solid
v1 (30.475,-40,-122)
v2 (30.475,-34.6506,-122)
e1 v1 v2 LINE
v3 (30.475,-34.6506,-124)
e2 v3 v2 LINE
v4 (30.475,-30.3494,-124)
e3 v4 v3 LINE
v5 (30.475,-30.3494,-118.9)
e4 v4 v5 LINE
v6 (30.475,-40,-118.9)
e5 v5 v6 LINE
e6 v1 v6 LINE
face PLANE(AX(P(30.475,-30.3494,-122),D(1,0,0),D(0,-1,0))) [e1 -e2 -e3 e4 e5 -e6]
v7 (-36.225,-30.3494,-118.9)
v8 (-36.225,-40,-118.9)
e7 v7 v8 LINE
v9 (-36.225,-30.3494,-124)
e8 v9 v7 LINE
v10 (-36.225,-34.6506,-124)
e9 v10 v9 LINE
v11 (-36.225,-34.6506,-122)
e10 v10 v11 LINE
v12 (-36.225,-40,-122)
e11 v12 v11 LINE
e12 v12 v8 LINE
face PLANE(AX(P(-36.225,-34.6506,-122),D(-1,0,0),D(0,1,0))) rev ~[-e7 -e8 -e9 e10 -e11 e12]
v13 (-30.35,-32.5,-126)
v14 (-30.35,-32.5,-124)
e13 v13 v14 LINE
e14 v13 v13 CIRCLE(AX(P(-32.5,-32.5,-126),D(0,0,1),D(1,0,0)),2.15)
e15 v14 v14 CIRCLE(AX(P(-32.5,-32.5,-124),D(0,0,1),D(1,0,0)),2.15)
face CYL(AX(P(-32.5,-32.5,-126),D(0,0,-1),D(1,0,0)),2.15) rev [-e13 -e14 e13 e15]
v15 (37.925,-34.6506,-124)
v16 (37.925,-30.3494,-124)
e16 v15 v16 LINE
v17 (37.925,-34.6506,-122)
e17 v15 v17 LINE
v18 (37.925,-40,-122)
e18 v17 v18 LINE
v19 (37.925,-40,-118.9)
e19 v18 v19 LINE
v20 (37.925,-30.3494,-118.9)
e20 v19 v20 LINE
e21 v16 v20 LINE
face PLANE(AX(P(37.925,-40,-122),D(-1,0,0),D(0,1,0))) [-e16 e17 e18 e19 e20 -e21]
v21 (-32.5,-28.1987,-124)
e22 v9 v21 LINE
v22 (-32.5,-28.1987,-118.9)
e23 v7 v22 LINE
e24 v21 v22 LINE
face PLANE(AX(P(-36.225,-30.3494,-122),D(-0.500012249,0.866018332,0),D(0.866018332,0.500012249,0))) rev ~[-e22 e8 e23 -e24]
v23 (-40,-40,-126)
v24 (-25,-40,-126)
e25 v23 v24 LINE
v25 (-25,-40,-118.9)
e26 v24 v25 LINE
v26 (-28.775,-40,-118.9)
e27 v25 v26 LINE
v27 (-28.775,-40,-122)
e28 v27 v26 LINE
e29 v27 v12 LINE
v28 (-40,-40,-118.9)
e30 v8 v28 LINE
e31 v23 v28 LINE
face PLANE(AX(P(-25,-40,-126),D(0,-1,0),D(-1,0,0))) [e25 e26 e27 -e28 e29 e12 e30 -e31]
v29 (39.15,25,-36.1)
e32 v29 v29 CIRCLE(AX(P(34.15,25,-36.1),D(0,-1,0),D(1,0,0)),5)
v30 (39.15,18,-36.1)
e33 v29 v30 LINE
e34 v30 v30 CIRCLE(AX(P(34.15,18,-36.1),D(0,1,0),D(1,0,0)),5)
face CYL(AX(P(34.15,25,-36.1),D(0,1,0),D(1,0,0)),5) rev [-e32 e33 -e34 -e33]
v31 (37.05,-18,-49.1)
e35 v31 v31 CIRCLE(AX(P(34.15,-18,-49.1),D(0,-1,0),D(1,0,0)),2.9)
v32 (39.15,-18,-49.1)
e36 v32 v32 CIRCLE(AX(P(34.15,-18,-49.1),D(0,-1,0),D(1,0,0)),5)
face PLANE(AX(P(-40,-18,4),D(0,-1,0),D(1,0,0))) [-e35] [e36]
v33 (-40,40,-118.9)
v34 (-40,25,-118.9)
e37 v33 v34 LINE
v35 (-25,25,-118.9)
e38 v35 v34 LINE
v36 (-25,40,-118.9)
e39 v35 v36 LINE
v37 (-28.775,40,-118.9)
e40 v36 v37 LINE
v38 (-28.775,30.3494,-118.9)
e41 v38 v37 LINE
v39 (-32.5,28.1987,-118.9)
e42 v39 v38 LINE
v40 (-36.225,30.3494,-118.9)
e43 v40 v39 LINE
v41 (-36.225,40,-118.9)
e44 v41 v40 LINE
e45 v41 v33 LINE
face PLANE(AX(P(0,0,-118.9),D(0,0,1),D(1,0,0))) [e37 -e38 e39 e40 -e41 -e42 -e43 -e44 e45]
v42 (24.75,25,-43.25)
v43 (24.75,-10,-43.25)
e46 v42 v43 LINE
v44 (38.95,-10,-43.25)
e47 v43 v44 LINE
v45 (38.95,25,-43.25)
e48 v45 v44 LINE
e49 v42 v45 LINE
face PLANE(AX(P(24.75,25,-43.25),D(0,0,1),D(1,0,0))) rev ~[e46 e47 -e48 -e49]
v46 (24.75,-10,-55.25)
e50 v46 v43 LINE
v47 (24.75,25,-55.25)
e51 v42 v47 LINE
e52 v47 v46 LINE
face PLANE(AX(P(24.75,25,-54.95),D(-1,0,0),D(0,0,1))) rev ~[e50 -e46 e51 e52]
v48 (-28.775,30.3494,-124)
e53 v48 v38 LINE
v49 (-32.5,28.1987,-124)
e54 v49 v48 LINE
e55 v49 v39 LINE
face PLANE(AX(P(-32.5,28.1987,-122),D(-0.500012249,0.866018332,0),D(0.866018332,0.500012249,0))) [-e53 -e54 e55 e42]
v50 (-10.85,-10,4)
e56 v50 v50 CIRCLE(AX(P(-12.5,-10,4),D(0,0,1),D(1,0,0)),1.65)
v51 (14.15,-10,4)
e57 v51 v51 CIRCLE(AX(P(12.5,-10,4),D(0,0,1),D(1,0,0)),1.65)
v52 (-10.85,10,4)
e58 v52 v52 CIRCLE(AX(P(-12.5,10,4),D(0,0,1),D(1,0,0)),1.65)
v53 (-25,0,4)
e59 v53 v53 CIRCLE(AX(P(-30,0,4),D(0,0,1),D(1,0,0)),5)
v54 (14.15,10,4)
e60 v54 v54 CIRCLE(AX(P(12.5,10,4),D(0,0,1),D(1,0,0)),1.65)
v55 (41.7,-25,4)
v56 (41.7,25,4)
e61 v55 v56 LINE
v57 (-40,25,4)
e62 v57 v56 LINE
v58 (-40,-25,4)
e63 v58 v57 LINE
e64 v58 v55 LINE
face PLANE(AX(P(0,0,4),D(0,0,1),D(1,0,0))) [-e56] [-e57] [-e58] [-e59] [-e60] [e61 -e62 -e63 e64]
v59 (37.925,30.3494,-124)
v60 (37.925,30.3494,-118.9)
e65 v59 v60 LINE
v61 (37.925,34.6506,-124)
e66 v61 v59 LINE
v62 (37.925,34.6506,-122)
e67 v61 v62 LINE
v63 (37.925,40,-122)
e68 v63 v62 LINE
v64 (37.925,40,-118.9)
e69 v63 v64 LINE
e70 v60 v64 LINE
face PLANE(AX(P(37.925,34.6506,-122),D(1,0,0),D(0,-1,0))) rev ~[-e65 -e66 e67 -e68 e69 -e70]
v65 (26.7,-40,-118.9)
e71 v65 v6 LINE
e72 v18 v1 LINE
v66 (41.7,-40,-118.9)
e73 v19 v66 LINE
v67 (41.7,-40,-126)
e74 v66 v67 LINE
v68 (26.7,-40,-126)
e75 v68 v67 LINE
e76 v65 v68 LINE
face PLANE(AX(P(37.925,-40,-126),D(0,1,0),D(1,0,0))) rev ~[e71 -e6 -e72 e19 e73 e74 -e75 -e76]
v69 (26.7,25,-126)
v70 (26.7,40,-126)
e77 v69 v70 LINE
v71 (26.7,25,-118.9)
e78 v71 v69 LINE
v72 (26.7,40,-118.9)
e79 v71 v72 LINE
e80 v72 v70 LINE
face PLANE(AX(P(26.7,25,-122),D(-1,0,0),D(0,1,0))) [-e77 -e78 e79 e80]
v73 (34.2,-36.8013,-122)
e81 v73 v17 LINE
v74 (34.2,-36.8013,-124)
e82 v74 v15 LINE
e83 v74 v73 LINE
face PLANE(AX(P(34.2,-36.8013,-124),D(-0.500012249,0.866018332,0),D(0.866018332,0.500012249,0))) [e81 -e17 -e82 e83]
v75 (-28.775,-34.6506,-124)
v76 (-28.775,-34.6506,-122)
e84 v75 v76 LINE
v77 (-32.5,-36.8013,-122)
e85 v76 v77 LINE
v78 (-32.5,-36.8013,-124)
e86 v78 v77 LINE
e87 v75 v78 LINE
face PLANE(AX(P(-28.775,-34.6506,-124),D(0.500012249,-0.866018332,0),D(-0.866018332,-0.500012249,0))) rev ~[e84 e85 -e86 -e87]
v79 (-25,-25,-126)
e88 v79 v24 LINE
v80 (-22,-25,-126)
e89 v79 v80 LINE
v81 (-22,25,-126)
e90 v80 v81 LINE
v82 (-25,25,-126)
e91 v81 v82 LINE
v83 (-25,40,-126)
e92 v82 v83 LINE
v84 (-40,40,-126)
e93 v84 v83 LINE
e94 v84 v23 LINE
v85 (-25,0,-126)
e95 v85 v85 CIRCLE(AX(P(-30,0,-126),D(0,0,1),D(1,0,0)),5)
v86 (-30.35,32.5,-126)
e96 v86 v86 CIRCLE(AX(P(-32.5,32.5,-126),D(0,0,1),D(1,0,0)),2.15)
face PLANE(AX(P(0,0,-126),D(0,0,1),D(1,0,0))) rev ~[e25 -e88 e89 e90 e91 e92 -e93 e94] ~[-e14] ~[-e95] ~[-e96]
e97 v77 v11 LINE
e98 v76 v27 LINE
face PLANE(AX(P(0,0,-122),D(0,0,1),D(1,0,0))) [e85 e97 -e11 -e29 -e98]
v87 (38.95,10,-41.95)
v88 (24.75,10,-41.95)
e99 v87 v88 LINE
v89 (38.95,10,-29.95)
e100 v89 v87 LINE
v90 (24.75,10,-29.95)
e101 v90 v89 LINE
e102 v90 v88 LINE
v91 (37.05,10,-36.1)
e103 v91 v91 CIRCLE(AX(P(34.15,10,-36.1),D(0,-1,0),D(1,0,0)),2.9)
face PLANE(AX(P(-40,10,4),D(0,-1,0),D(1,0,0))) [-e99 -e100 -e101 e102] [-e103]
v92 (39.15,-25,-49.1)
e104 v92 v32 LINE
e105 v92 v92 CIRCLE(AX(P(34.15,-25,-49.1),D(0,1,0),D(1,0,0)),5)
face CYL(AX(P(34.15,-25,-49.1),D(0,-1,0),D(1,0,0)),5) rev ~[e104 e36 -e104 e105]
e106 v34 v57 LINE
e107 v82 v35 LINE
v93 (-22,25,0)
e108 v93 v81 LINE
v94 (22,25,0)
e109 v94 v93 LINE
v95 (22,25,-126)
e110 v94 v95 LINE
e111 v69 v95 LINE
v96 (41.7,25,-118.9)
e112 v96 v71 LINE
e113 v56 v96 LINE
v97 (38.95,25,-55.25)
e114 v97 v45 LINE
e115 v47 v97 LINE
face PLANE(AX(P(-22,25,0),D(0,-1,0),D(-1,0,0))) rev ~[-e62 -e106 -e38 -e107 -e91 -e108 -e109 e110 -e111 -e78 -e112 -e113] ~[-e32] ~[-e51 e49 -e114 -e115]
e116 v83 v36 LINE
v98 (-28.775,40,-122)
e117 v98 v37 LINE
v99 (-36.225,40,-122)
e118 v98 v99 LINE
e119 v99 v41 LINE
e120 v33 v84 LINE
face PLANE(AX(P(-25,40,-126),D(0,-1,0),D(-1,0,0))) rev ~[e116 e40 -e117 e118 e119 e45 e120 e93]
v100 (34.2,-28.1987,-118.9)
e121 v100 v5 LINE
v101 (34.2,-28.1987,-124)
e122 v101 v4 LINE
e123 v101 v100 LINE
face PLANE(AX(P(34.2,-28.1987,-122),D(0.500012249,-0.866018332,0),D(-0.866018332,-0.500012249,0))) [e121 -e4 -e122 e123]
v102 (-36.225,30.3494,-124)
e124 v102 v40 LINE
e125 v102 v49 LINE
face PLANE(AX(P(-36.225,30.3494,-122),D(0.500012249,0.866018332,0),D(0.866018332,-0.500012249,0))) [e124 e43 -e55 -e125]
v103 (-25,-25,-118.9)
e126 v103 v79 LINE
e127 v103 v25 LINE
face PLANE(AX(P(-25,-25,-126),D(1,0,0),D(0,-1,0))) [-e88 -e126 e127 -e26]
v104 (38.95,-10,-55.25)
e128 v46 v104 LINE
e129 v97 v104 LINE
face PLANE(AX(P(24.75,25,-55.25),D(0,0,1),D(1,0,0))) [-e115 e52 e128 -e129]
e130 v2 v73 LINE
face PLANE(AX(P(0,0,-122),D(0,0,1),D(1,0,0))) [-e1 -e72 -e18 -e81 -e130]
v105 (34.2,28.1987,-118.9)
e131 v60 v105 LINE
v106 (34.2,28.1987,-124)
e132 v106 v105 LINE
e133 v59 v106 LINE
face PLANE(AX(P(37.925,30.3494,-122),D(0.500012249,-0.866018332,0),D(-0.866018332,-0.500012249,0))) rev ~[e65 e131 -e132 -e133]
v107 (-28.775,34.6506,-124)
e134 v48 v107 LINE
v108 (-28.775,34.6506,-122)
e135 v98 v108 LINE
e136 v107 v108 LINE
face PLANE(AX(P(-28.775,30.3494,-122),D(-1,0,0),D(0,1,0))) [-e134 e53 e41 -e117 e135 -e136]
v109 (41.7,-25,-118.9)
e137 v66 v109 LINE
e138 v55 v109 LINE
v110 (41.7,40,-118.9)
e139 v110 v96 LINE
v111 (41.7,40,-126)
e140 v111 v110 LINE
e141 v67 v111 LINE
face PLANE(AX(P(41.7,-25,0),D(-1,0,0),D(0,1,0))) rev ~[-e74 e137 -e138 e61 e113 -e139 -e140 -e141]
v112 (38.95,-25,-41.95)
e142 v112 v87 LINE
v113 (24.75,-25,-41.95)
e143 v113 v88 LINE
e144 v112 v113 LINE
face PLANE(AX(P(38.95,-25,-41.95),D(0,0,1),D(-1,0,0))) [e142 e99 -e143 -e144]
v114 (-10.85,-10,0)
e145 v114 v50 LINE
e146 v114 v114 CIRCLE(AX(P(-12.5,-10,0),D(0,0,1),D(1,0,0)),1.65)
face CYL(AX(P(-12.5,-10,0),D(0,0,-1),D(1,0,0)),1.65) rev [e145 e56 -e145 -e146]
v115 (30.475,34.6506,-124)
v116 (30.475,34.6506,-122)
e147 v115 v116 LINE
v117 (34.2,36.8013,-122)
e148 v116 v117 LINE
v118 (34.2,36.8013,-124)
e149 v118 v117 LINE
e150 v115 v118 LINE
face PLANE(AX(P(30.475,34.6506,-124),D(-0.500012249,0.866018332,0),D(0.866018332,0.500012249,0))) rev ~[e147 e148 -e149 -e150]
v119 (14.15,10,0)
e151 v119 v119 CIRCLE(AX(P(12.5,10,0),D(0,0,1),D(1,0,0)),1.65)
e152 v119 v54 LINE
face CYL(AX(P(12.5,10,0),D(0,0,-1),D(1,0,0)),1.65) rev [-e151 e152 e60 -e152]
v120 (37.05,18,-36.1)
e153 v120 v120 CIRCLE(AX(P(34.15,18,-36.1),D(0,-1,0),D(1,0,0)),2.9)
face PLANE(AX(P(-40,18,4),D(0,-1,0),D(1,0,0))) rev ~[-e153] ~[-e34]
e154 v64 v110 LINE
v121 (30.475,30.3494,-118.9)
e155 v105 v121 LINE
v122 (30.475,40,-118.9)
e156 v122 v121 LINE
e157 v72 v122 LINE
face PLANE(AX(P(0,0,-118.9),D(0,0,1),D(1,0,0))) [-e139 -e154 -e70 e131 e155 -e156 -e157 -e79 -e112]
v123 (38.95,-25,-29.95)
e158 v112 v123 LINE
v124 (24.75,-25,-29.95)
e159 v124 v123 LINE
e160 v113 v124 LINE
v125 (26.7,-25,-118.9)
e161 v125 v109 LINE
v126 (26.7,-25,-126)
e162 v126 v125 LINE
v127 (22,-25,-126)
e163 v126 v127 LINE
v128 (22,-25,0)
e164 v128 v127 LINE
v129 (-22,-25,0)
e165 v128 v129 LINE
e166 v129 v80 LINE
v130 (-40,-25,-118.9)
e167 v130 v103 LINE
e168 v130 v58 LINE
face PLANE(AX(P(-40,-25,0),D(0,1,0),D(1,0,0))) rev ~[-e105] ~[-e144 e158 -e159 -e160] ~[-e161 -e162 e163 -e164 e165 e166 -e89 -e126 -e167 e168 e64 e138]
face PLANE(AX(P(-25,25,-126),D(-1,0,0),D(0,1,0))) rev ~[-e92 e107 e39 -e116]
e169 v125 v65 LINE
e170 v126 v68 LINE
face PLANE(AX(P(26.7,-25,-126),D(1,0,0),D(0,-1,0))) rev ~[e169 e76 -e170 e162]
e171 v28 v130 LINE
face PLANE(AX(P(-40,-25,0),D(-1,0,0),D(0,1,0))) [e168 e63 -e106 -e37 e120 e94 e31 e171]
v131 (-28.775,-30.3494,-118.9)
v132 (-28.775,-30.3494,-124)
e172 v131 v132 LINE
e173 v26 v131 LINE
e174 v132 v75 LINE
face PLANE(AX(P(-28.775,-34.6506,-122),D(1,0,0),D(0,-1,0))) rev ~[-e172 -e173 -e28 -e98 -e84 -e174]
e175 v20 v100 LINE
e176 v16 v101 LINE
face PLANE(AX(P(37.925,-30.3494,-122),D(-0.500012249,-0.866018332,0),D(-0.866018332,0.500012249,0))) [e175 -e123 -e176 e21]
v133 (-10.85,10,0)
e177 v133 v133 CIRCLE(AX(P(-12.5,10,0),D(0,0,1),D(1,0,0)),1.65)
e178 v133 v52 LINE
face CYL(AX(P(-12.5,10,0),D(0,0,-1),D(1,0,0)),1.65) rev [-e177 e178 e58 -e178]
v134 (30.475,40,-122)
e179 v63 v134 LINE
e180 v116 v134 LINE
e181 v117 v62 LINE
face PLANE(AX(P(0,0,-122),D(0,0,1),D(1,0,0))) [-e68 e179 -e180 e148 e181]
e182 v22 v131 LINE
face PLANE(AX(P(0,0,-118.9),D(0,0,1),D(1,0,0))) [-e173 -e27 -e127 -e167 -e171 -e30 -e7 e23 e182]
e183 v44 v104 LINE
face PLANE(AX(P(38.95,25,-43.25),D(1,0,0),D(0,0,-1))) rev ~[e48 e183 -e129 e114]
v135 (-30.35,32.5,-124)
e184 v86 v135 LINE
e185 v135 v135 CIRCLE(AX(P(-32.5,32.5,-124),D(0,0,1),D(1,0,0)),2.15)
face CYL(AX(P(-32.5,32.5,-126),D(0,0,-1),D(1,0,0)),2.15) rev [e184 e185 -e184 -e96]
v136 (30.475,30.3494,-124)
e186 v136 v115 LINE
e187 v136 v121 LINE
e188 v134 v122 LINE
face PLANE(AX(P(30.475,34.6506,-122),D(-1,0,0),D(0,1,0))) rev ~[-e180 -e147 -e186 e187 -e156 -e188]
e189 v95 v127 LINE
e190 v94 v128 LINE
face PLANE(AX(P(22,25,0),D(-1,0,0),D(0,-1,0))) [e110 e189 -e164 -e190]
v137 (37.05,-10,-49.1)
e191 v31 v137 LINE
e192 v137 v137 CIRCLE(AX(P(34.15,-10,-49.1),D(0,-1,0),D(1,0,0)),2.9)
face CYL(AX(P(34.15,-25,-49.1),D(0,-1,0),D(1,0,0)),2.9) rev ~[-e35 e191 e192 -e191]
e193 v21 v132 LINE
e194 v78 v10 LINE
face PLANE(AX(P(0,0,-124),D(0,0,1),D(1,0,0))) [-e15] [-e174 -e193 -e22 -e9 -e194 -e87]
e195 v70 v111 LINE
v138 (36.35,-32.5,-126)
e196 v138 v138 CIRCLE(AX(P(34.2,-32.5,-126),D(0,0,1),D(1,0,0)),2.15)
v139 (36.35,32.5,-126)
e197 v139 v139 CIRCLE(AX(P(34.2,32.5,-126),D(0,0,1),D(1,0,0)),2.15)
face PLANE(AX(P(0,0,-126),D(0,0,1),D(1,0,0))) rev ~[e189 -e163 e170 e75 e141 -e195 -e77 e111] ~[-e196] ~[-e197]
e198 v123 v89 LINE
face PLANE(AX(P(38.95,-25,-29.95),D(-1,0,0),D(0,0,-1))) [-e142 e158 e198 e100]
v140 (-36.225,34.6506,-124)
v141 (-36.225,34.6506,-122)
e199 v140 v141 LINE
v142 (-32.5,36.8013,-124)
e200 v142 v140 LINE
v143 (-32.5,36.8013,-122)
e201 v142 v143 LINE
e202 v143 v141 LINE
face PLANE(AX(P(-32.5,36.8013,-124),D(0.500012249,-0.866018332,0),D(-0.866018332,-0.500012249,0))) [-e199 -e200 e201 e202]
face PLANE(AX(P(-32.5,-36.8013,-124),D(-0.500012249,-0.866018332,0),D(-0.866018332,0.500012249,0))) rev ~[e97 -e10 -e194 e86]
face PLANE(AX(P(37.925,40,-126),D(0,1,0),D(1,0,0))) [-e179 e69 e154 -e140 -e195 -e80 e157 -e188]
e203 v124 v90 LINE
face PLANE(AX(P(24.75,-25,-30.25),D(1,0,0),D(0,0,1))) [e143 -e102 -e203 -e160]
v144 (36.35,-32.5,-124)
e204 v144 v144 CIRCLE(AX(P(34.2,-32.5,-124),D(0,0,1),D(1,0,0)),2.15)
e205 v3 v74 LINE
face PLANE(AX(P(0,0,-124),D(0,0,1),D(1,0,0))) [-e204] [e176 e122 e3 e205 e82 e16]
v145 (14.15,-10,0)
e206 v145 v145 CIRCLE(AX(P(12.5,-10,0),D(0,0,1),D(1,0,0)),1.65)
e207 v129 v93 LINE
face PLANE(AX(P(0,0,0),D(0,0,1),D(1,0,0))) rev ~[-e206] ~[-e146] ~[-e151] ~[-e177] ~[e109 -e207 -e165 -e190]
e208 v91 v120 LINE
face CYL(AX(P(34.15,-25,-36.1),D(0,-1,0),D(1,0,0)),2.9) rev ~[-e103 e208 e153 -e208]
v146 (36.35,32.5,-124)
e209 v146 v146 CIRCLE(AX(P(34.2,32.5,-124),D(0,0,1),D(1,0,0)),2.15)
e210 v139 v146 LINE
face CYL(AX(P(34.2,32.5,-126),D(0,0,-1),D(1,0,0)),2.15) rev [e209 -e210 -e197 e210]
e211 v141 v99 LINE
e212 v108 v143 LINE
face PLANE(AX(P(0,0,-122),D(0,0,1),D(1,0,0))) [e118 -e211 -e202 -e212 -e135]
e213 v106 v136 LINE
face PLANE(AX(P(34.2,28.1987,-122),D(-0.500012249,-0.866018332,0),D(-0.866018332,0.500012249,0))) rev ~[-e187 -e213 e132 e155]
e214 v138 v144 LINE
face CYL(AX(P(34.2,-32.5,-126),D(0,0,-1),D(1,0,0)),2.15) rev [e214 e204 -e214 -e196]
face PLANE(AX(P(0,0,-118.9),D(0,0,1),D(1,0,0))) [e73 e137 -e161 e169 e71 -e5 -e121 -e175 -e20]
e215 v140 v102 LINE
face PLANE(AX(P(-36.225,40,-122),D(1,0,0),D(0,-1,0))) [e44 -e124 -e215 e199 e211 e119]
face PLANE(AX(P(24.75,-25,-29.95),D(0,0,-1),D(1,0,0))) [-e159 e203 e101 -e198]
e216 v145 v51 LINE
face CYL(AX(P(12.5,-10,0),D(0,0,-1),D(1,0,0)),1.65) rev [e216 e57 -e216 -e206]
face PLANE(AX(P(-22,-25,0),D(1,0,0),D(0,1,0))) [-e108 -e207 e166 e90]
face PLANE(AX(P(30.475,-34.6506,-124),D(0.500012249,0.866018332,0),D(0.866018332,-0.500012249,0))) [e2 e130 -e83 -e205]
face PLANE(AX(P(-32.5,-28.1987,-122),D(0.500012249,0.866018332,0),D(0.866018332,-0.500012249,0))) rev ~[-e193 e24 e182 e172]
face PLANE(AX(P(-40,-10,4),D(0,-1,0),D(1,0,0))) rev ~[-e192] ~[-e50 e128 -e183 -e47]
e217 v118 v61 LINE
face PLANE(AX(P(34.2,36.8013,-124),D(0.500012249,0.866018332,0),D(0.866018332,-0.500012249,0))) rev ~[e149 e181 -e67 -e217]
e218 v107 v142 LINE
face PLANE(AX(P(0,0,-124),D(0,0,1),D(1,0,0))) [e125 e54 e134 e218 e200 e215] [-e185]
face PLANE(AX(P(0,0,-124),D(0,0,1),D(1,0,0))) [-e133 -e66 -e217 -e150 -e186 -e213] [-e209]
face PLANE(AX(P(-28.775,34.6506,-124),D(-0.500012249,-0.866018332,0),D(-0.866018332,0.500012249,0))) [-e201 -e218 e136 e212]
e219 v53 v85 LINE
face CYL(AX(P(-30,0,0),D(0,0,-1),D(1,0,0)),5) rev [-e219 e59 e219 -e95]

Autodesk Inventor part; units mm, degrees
sketch "S-ProbeHead-BaseSkizze" plane through (0, 0, 0) normal (0, 0, 1) x (1, 0, 0)
  line L0 (-40, 40) -> (40, 40)
  line L1 (40, 40) -> (40, -40)
  line L2 (40, -40) -> (-40, -40)
  line L3 (-40, -40) -> (-40, 40)
  line L4 (-40, 40) -> (40, -40) construction
  line L5 (40, 40) -> (-40, -40) construction
  line L6 (-56.34, 0) -> (58.04, 0) construction
  circle A0 centre (-30, 0) radius 5
  line L7 (0, 83.0683) -> (0, -88.0384) construction
  line L8 (-7.5, 58.6245) -> (-7.5, -60.8735) construction
  line L9 (-16, 21) -> (16, 21) construction
  line L10 (16, 21) -> (16, -21) construction
  line L11 (16, -21) -> (-16, -21) construction
  line L12 (-16, -21) -> (-16, 21) construction
  line L13 (-16, 21) -> (16, -21) construction
  line L14 (16, 21) -> (-16, -21) construction
  circle A1 centre (-12.5, -10) radius 1.65
  circle A2 centre (-12.5, 10) radius 1.65
  circle A3 centre (12.5, -10) radius 1.65
  circle A4 centre (12.5, 10) radius 1.65
  line L15 (-20, 57.6709) -> (-20, -63.5946)
  line L16 (7.5, 58.6245) -> (7.5, -60.8735) construction
  line L17 (20, 57.6709) -> (20, -63.5946)
  line L18 (41.7, 25) -> (-40, 25)
  line L19 (-40, 25) -> (-40, -25)
  line L20 (-40, -25) -> (41.7, -25)
  line L21 (41.7, -25) -> (41.7, 25)
  line L22 (22, 25) -> (22, -25)
  line L23 (-22, -25) -> (-22, 25)
  point P0 (0, 0)
  point P1 (41.7, 0)
  dimension "d1" = 80
  dimension "d2" = 80
  dimension "d4" = 10
  dimension "d6" = 30
  dimension "d20" = 7.5
  dimension "d21" = 32
  dimension "d22" = 42
  dimension "d23" = 3.3
  dimension "d24" = 10
  dimension "d25" = 12.5
  dimension "d26" = 20
  dimension "d27" = 50
  dimension "d30" = 20
  dimension "d31" = 21.7
  dimension "d32" = 2
  dimension "d37" = 2
extrude "BasePlate" add sketch "S-ProbeHead-BaseSkizze" along normal blind 4 contours L18 L23 L20 L3 | L18 L17 L20 L15 | L15 L20 L23 L18 | L18 L22 L20 L17 | L18 L21 L20 L1 | L1 L20 L22 L18
ref_plane "Endfläche-ProbeHeadarme" through (0, 0, -126) normal (0, 0, 1) x (1, 0, 0)
ref_plane "ProfilDownside" through (0, 0, -56) normal (0, 0, 1) x (1, 0, 0)
extrude "Arms" add sketch "S-ProbeHead-BaseSkizze" against normal up to surface (126 mm away) contours L18 L23 L20 L3 | L18 L21 L20 L1 | L1 L20 L22 L18
ref_plane "Z-UpperBelt" through (0, 0, -36.1) normal (0, 0, 1) x (1, 0, 0)
ref_plane "Z-LowerBelt" through (0, 0, -49.1) normal (0, 0, 1) x (1, 0, 0)
ref_plane "X-Belts" through (26.75, 0, 0) normal (1, 0, 0) x (0, 1, 0)
sketch "S-Tensioners" plane through (-40, -25, 4) normal (0, -1, 0) x (1, 0, 0)
  line L0 (64.75, -47.25) -> (78.95, -47.25)
  line L1 (78.95, -47.25) -> (78.95, -58.95)
  line L2 (78.95, -58.95) -> (64.75, -58.95)
  line L3 (64.75, -58.95) -> (64.75, -47.25)
  line L4 (64.75, -47.25) -> (78.95, -58.95) construction
  line L5 (78.95, -47.25) -> (64.75, -58.95) construction
  line L6 (71.85, -74) -> (71.85, 12.5724) construction
  line L7 (-16.34, -40.1) -> (98.04, -40.1) construction
  line L8 (-16.34, -53.1) -> (98.04, -53.1) construction
  circle A0 centre (74.15, -53.1) radius 2.9
  line L9 (64.75, -34.25) -> (78.95, -34.25)
  line L10 (78.95, -34.25) -> (78.95, -45.95)
  line L11 (78.95, -45.95) -> (64.75, -45.95)
  line L12 (64.75, -45.95) -> (64.75, -34.25)
  line L13 (64.75, -34.25) -> (78.95, -45.95) construction
  line L14 (78.95, -34.25) -> (64.75, -45.95) construction
  circle A1 centre (74.15, -40.1) radius 2.9
  circle A2 centre (74.15, -40.1) radius 5
  circle A3 centre (74.15, -53.1) radius 5
  line L15 (66.75, 41.0869) -> (66.75, -158.5145) construction
  line L16 (78.95, -34.25) -> (64.75, -34.25)
  line L17 (64.75, -34.25) -> (64.75, -33.95)
  line L18 (64.75, -33.95) -> (78.95, -33.95)
  line L19 (78.95, -33.95) -> (78.95, -34.25)
  line L20 (78.95, -58.95) -> (64.75, -58.95)
  line L21 (64.75, -58.95) -> (64.75, -59.25)
  line L22 (64.75, -59.25) -> (78.95, -59.25)
  line L23 (78.95, -59.25) -> (78.95, -58.95)
  point P0 (40, -4)
  point P1 (78.95, -40.1)
  point P2 (78.95, -53.1)
  dimension "d38" = 14.2
  dimension "d39" = 11.7
  dimension "d42" = 5.8
  dimension "d43" = 14.2
  dimension "d44" = 11.7
  dimension "d45" = 5.8
  dimension "d53" = 4.8
  dimension "d54" = 4.8
  dimension "d55" = 10
  dimension "d56" = 10
  dimension "d58" = 7.4
  dimension "d59" = 7.4
  dimension "d79" = 0.3
  dimension "d80" = 0.3
extrude "Ex-Tensioners1-Holes" cut sketch "S-Tensioners" against normal blind 50 contours A0 | A1
extrude "Ex-Tensioners2-SlideVolume" cut sketch "S-Tensioners" along normal blind 35 from surface at -50 contours L0 L1 A3 L2 L3 | L2 L23 L22 L21 | L1 A3 picked at (78.3167, -53.1)
extrude "Ex-Tensioners3-SlideVolume" cut sketch "S-Tensioners" against normal blind 35 contours L17 L18 L19 L9 | L9 L10 A2 L11 L12 | L10 A2 picked at (78.3167, -40.1)
extrude "Ex-Tensioners4-SrewHead" cut sketch "S-Tensioners" against normal blind 7 contours A3 L1 | L1 A3
extrude "Ex-Tensioners5-SrewHead" cut sketch "S-Tensioners" along normal blind 7 from surface at -50 contours A2 L10 | L10 A2
sketch "S-Anschraubpunkte-ProbeAntenna" plane through (0, 0, -126) normal (0, 0, 1) x (1, 0, 0)
  line L0 (-56.34, 0) -> (58.04, 0) construction
  line L1 (0, 74.3335) -> (0, -68.3114) construction
  line L2 (41.7, 25) -> (-40, 25) projected
  line L3 (41.7, -25) -> (41.7, 25) projected
  line L4 (-40, -25) -> (41.7, -25) projected
  line L5 (-40, 25) -> (-40, -25) projected
  line L6 (41.7, 25) -> (26.7, 25)
  line L7 (26.7, 25) -> (26.7, 40)
  line L8 (26.7, 40) -> (41.7, 40)
  line L9 (41.7, 40) -> (41.7, 25)
  line L10 (22, -25) -> (22, 25) projected
  line L11 (22, 25) -> (22, -25) projected
  line L12 (-22, 25) -> (-22, -25) projected
  line L13 (-22, -25) -> (-22, 25) projected
  line L14 (41.7, 32.5) -> (26.7, 32.5) construction
  line L15 (34.2, 40) -> (34.2, 25) construction
  circle A0 centre (34.2, 32.5) radius 2.15
  circle A1 centre (34.2, 32.5) radius 4 construction
  line L16 (0.85, 53.9557) -> (0.85, -47.9335) construction
  line L17 (-40, 25) -> (-25, 25)
  line L18 (-25, 25) -> (-25, 40)
  line L19 (-25, 40) -> (-40, 40)
  line L20 (-40, 40) -> (-40, 25)
  circle A2 centre (-32.5, 32.5) radius 2.15
  circle A3 centre (-32.5, 32.5) radius 4 construction
  line L21 (41.7, -25) -> (26.7, -25)
  line L22 (26.7, -25) -> (26.7, -40)
  line L23 (26.7, -40) -> (41.7, -40)
  line L24 (41.7, -40) -> (41.7, -25)
  circle A4 centre (34.2, -32.5) radius 2.15
  circle A5 centre (34.2, -32.5) radius 4 construction
  line L25 (-40, -40) -> (-40, -25)
  line L26 (-25, -40) -> (-40, -40)
  line L27 (-40, -25) -> (-25, -25)
  line L28 (-25, -25) -> (-25, -40)
  circle A6 centre (-32.5, -32.5) radius 4 construction
  circle A7 centre (-32.5, -32.5) radius 2.15
  line L29 (34.2, 28.1987) -> (30.475, 30.3494)
  line L30 (30.475, 30.3494) -> (30.475, 40)
  line L31 (30.475, 34.6506) -> (34.2, 36.8013)
  line L32 (34.2, 36.8013) -> (37.925, 34.6506)
  line L33 (37.925, 40) -> (37.925, 30.3494)
  line L34 (37.925, 30.3494) -> (34.2, 28.1987)
  line L35 (34.2, -28.1987) -> (30.475, -30.3494)
  line L36 (30.475, -30.3494) -> (30.475, -40)
  line L37 (30.475, -34.6506) -> (34.2, -36.8013)
  line L38 (34.2, -36.8013) -> (37.925, -34.6506)
  line L39 (37.925, -40) -> (37.925, -30.3494)
  line L40 (37.925, -30.3494) -> (34.2, -28.1987)
  line L41 (-32.5, 28.1987) -> (-28.775, 30.3494)
  line L42 (-28.775, 30.3494) -> (-28.775, 40)
  line L43 (-28.775, 34.6506) -> (-32.5, 36.8013)
  line L44 (-32.5, 36.8013) -> (-36.225, 34.6506)
  line L45 (-36.225, 40) -> (-36.225, 30.3494)
  line L46 (-36.225, 30.3494) -> (-32.5, 28.1987)
  line L47 (-36.225, -40) -> (-36.225, -30.3494)
  line L48 (-32.5, -36.8013) -> (-36.225, -34.6506)
  line L49 (-28.775, -34.6506) -> (-32.5, -36.8013)
  line L50 (-28.775, -30.3494) -> (-28.775, -40)
  line L51 (-32.5, -28.1987) -> (-28.775, -30.3494)
  line L52 (-36.225, -30.3494) -> (-32.5, -28.1987)
  point P0 (0, 0)
  dimension "d46" = 50
  dimension "d67" = 15
  dimension "d68" = 15
  dimension "d69" = 4.3
  dimension "d70" = 8
  dimension "d71" = 81.7
  dimension "d72" = 40.85
  dimension "d75" = 65
  dimension "d76" = 66.7
  dimension "d81" = 7.45
extrude "Ex-Anschraubpunkte-Eb1" add sketch "S-Anschraubpunkte-ProbeAntenna" along normal blind 2 contours L2 L7 L8 L30 L29 L34 L33 L9 | L24 L23 L39 L40 L35 L36 L22 L4 | L33 L32 L31 L30 L8 | L23 L36 L37 L38 L39 | L33 L34 L29 L30 L31 L32 | L2 L20 L19 L45 L46 L41 L42 L18 | L38 L37 L36 L35 L40 L39 | L28 L26 L50 L51 L52 L47 L25 L4 | L42 L43 L44 L45 L19 | L42 L41 L46 L45 L44 L43 | L26 L47 L48 L49 L50 | L49 L48 L47 L52 L51 L50
extrude "Ex-Anschraubpunkte-Eb2" add sketch "S-Anschraubpunkte-ProbeAntenna" along normal blind 2 from surface at 2 contours L2 L7 L8 L30 L29 L34 L33 L9 | L24 L23 L39 L40 L35 L36 L22 L4 | L33 L32 L31 L30 L8 | L23 L36 L37 L38 L39 | L2 L20 L19 L45 L46 L41 L42 L18 | L28 L26 L50 L51 L52 L47 L25 L4 | L42 L43 L44 L45 L19 | L26 L47 L48 L49 L50
extrude "Ex-Anschraubpunkte-Eb3" add sketch "S-Anschraubpunkte-ProbeAntenna" along normal blind 3.1 from surface at 4 contours L2 L7 L8 L30 L29 L34 L33 L9 | L24 L23 L39 L40 L35 L36 L22 L4 | L2 L20 L19 L45 L46 L41 L42 L18 | L28 L26 L50 L51 L52 L47 L25 L4
extrude "Ex-Anschraubpunkte-Eb4" [suppressed]
ref_plane "Anschraubpunkt-Spiegelebene" through (0.85, 53.9557, -126) normal (-1, 0, 0) x (0, -1, 0)
ref_plane "ProfilTopSide" through (0, 0, -16) normal (0, 0, 1) x (1, 0, 0)
equation "\"d43\" = d38"
equation "\"d44\" = d39"
equation "\"d45\" = d42"
equation "\"d53\" = d54"
equation "\"d55\" = d56"
equation "\"d58\" = d59"
equation "\"d80\" = d79"
equation "\"d72\" = 0.5 * d71"
properties part number "ProbeHead-BaseBody V3"
